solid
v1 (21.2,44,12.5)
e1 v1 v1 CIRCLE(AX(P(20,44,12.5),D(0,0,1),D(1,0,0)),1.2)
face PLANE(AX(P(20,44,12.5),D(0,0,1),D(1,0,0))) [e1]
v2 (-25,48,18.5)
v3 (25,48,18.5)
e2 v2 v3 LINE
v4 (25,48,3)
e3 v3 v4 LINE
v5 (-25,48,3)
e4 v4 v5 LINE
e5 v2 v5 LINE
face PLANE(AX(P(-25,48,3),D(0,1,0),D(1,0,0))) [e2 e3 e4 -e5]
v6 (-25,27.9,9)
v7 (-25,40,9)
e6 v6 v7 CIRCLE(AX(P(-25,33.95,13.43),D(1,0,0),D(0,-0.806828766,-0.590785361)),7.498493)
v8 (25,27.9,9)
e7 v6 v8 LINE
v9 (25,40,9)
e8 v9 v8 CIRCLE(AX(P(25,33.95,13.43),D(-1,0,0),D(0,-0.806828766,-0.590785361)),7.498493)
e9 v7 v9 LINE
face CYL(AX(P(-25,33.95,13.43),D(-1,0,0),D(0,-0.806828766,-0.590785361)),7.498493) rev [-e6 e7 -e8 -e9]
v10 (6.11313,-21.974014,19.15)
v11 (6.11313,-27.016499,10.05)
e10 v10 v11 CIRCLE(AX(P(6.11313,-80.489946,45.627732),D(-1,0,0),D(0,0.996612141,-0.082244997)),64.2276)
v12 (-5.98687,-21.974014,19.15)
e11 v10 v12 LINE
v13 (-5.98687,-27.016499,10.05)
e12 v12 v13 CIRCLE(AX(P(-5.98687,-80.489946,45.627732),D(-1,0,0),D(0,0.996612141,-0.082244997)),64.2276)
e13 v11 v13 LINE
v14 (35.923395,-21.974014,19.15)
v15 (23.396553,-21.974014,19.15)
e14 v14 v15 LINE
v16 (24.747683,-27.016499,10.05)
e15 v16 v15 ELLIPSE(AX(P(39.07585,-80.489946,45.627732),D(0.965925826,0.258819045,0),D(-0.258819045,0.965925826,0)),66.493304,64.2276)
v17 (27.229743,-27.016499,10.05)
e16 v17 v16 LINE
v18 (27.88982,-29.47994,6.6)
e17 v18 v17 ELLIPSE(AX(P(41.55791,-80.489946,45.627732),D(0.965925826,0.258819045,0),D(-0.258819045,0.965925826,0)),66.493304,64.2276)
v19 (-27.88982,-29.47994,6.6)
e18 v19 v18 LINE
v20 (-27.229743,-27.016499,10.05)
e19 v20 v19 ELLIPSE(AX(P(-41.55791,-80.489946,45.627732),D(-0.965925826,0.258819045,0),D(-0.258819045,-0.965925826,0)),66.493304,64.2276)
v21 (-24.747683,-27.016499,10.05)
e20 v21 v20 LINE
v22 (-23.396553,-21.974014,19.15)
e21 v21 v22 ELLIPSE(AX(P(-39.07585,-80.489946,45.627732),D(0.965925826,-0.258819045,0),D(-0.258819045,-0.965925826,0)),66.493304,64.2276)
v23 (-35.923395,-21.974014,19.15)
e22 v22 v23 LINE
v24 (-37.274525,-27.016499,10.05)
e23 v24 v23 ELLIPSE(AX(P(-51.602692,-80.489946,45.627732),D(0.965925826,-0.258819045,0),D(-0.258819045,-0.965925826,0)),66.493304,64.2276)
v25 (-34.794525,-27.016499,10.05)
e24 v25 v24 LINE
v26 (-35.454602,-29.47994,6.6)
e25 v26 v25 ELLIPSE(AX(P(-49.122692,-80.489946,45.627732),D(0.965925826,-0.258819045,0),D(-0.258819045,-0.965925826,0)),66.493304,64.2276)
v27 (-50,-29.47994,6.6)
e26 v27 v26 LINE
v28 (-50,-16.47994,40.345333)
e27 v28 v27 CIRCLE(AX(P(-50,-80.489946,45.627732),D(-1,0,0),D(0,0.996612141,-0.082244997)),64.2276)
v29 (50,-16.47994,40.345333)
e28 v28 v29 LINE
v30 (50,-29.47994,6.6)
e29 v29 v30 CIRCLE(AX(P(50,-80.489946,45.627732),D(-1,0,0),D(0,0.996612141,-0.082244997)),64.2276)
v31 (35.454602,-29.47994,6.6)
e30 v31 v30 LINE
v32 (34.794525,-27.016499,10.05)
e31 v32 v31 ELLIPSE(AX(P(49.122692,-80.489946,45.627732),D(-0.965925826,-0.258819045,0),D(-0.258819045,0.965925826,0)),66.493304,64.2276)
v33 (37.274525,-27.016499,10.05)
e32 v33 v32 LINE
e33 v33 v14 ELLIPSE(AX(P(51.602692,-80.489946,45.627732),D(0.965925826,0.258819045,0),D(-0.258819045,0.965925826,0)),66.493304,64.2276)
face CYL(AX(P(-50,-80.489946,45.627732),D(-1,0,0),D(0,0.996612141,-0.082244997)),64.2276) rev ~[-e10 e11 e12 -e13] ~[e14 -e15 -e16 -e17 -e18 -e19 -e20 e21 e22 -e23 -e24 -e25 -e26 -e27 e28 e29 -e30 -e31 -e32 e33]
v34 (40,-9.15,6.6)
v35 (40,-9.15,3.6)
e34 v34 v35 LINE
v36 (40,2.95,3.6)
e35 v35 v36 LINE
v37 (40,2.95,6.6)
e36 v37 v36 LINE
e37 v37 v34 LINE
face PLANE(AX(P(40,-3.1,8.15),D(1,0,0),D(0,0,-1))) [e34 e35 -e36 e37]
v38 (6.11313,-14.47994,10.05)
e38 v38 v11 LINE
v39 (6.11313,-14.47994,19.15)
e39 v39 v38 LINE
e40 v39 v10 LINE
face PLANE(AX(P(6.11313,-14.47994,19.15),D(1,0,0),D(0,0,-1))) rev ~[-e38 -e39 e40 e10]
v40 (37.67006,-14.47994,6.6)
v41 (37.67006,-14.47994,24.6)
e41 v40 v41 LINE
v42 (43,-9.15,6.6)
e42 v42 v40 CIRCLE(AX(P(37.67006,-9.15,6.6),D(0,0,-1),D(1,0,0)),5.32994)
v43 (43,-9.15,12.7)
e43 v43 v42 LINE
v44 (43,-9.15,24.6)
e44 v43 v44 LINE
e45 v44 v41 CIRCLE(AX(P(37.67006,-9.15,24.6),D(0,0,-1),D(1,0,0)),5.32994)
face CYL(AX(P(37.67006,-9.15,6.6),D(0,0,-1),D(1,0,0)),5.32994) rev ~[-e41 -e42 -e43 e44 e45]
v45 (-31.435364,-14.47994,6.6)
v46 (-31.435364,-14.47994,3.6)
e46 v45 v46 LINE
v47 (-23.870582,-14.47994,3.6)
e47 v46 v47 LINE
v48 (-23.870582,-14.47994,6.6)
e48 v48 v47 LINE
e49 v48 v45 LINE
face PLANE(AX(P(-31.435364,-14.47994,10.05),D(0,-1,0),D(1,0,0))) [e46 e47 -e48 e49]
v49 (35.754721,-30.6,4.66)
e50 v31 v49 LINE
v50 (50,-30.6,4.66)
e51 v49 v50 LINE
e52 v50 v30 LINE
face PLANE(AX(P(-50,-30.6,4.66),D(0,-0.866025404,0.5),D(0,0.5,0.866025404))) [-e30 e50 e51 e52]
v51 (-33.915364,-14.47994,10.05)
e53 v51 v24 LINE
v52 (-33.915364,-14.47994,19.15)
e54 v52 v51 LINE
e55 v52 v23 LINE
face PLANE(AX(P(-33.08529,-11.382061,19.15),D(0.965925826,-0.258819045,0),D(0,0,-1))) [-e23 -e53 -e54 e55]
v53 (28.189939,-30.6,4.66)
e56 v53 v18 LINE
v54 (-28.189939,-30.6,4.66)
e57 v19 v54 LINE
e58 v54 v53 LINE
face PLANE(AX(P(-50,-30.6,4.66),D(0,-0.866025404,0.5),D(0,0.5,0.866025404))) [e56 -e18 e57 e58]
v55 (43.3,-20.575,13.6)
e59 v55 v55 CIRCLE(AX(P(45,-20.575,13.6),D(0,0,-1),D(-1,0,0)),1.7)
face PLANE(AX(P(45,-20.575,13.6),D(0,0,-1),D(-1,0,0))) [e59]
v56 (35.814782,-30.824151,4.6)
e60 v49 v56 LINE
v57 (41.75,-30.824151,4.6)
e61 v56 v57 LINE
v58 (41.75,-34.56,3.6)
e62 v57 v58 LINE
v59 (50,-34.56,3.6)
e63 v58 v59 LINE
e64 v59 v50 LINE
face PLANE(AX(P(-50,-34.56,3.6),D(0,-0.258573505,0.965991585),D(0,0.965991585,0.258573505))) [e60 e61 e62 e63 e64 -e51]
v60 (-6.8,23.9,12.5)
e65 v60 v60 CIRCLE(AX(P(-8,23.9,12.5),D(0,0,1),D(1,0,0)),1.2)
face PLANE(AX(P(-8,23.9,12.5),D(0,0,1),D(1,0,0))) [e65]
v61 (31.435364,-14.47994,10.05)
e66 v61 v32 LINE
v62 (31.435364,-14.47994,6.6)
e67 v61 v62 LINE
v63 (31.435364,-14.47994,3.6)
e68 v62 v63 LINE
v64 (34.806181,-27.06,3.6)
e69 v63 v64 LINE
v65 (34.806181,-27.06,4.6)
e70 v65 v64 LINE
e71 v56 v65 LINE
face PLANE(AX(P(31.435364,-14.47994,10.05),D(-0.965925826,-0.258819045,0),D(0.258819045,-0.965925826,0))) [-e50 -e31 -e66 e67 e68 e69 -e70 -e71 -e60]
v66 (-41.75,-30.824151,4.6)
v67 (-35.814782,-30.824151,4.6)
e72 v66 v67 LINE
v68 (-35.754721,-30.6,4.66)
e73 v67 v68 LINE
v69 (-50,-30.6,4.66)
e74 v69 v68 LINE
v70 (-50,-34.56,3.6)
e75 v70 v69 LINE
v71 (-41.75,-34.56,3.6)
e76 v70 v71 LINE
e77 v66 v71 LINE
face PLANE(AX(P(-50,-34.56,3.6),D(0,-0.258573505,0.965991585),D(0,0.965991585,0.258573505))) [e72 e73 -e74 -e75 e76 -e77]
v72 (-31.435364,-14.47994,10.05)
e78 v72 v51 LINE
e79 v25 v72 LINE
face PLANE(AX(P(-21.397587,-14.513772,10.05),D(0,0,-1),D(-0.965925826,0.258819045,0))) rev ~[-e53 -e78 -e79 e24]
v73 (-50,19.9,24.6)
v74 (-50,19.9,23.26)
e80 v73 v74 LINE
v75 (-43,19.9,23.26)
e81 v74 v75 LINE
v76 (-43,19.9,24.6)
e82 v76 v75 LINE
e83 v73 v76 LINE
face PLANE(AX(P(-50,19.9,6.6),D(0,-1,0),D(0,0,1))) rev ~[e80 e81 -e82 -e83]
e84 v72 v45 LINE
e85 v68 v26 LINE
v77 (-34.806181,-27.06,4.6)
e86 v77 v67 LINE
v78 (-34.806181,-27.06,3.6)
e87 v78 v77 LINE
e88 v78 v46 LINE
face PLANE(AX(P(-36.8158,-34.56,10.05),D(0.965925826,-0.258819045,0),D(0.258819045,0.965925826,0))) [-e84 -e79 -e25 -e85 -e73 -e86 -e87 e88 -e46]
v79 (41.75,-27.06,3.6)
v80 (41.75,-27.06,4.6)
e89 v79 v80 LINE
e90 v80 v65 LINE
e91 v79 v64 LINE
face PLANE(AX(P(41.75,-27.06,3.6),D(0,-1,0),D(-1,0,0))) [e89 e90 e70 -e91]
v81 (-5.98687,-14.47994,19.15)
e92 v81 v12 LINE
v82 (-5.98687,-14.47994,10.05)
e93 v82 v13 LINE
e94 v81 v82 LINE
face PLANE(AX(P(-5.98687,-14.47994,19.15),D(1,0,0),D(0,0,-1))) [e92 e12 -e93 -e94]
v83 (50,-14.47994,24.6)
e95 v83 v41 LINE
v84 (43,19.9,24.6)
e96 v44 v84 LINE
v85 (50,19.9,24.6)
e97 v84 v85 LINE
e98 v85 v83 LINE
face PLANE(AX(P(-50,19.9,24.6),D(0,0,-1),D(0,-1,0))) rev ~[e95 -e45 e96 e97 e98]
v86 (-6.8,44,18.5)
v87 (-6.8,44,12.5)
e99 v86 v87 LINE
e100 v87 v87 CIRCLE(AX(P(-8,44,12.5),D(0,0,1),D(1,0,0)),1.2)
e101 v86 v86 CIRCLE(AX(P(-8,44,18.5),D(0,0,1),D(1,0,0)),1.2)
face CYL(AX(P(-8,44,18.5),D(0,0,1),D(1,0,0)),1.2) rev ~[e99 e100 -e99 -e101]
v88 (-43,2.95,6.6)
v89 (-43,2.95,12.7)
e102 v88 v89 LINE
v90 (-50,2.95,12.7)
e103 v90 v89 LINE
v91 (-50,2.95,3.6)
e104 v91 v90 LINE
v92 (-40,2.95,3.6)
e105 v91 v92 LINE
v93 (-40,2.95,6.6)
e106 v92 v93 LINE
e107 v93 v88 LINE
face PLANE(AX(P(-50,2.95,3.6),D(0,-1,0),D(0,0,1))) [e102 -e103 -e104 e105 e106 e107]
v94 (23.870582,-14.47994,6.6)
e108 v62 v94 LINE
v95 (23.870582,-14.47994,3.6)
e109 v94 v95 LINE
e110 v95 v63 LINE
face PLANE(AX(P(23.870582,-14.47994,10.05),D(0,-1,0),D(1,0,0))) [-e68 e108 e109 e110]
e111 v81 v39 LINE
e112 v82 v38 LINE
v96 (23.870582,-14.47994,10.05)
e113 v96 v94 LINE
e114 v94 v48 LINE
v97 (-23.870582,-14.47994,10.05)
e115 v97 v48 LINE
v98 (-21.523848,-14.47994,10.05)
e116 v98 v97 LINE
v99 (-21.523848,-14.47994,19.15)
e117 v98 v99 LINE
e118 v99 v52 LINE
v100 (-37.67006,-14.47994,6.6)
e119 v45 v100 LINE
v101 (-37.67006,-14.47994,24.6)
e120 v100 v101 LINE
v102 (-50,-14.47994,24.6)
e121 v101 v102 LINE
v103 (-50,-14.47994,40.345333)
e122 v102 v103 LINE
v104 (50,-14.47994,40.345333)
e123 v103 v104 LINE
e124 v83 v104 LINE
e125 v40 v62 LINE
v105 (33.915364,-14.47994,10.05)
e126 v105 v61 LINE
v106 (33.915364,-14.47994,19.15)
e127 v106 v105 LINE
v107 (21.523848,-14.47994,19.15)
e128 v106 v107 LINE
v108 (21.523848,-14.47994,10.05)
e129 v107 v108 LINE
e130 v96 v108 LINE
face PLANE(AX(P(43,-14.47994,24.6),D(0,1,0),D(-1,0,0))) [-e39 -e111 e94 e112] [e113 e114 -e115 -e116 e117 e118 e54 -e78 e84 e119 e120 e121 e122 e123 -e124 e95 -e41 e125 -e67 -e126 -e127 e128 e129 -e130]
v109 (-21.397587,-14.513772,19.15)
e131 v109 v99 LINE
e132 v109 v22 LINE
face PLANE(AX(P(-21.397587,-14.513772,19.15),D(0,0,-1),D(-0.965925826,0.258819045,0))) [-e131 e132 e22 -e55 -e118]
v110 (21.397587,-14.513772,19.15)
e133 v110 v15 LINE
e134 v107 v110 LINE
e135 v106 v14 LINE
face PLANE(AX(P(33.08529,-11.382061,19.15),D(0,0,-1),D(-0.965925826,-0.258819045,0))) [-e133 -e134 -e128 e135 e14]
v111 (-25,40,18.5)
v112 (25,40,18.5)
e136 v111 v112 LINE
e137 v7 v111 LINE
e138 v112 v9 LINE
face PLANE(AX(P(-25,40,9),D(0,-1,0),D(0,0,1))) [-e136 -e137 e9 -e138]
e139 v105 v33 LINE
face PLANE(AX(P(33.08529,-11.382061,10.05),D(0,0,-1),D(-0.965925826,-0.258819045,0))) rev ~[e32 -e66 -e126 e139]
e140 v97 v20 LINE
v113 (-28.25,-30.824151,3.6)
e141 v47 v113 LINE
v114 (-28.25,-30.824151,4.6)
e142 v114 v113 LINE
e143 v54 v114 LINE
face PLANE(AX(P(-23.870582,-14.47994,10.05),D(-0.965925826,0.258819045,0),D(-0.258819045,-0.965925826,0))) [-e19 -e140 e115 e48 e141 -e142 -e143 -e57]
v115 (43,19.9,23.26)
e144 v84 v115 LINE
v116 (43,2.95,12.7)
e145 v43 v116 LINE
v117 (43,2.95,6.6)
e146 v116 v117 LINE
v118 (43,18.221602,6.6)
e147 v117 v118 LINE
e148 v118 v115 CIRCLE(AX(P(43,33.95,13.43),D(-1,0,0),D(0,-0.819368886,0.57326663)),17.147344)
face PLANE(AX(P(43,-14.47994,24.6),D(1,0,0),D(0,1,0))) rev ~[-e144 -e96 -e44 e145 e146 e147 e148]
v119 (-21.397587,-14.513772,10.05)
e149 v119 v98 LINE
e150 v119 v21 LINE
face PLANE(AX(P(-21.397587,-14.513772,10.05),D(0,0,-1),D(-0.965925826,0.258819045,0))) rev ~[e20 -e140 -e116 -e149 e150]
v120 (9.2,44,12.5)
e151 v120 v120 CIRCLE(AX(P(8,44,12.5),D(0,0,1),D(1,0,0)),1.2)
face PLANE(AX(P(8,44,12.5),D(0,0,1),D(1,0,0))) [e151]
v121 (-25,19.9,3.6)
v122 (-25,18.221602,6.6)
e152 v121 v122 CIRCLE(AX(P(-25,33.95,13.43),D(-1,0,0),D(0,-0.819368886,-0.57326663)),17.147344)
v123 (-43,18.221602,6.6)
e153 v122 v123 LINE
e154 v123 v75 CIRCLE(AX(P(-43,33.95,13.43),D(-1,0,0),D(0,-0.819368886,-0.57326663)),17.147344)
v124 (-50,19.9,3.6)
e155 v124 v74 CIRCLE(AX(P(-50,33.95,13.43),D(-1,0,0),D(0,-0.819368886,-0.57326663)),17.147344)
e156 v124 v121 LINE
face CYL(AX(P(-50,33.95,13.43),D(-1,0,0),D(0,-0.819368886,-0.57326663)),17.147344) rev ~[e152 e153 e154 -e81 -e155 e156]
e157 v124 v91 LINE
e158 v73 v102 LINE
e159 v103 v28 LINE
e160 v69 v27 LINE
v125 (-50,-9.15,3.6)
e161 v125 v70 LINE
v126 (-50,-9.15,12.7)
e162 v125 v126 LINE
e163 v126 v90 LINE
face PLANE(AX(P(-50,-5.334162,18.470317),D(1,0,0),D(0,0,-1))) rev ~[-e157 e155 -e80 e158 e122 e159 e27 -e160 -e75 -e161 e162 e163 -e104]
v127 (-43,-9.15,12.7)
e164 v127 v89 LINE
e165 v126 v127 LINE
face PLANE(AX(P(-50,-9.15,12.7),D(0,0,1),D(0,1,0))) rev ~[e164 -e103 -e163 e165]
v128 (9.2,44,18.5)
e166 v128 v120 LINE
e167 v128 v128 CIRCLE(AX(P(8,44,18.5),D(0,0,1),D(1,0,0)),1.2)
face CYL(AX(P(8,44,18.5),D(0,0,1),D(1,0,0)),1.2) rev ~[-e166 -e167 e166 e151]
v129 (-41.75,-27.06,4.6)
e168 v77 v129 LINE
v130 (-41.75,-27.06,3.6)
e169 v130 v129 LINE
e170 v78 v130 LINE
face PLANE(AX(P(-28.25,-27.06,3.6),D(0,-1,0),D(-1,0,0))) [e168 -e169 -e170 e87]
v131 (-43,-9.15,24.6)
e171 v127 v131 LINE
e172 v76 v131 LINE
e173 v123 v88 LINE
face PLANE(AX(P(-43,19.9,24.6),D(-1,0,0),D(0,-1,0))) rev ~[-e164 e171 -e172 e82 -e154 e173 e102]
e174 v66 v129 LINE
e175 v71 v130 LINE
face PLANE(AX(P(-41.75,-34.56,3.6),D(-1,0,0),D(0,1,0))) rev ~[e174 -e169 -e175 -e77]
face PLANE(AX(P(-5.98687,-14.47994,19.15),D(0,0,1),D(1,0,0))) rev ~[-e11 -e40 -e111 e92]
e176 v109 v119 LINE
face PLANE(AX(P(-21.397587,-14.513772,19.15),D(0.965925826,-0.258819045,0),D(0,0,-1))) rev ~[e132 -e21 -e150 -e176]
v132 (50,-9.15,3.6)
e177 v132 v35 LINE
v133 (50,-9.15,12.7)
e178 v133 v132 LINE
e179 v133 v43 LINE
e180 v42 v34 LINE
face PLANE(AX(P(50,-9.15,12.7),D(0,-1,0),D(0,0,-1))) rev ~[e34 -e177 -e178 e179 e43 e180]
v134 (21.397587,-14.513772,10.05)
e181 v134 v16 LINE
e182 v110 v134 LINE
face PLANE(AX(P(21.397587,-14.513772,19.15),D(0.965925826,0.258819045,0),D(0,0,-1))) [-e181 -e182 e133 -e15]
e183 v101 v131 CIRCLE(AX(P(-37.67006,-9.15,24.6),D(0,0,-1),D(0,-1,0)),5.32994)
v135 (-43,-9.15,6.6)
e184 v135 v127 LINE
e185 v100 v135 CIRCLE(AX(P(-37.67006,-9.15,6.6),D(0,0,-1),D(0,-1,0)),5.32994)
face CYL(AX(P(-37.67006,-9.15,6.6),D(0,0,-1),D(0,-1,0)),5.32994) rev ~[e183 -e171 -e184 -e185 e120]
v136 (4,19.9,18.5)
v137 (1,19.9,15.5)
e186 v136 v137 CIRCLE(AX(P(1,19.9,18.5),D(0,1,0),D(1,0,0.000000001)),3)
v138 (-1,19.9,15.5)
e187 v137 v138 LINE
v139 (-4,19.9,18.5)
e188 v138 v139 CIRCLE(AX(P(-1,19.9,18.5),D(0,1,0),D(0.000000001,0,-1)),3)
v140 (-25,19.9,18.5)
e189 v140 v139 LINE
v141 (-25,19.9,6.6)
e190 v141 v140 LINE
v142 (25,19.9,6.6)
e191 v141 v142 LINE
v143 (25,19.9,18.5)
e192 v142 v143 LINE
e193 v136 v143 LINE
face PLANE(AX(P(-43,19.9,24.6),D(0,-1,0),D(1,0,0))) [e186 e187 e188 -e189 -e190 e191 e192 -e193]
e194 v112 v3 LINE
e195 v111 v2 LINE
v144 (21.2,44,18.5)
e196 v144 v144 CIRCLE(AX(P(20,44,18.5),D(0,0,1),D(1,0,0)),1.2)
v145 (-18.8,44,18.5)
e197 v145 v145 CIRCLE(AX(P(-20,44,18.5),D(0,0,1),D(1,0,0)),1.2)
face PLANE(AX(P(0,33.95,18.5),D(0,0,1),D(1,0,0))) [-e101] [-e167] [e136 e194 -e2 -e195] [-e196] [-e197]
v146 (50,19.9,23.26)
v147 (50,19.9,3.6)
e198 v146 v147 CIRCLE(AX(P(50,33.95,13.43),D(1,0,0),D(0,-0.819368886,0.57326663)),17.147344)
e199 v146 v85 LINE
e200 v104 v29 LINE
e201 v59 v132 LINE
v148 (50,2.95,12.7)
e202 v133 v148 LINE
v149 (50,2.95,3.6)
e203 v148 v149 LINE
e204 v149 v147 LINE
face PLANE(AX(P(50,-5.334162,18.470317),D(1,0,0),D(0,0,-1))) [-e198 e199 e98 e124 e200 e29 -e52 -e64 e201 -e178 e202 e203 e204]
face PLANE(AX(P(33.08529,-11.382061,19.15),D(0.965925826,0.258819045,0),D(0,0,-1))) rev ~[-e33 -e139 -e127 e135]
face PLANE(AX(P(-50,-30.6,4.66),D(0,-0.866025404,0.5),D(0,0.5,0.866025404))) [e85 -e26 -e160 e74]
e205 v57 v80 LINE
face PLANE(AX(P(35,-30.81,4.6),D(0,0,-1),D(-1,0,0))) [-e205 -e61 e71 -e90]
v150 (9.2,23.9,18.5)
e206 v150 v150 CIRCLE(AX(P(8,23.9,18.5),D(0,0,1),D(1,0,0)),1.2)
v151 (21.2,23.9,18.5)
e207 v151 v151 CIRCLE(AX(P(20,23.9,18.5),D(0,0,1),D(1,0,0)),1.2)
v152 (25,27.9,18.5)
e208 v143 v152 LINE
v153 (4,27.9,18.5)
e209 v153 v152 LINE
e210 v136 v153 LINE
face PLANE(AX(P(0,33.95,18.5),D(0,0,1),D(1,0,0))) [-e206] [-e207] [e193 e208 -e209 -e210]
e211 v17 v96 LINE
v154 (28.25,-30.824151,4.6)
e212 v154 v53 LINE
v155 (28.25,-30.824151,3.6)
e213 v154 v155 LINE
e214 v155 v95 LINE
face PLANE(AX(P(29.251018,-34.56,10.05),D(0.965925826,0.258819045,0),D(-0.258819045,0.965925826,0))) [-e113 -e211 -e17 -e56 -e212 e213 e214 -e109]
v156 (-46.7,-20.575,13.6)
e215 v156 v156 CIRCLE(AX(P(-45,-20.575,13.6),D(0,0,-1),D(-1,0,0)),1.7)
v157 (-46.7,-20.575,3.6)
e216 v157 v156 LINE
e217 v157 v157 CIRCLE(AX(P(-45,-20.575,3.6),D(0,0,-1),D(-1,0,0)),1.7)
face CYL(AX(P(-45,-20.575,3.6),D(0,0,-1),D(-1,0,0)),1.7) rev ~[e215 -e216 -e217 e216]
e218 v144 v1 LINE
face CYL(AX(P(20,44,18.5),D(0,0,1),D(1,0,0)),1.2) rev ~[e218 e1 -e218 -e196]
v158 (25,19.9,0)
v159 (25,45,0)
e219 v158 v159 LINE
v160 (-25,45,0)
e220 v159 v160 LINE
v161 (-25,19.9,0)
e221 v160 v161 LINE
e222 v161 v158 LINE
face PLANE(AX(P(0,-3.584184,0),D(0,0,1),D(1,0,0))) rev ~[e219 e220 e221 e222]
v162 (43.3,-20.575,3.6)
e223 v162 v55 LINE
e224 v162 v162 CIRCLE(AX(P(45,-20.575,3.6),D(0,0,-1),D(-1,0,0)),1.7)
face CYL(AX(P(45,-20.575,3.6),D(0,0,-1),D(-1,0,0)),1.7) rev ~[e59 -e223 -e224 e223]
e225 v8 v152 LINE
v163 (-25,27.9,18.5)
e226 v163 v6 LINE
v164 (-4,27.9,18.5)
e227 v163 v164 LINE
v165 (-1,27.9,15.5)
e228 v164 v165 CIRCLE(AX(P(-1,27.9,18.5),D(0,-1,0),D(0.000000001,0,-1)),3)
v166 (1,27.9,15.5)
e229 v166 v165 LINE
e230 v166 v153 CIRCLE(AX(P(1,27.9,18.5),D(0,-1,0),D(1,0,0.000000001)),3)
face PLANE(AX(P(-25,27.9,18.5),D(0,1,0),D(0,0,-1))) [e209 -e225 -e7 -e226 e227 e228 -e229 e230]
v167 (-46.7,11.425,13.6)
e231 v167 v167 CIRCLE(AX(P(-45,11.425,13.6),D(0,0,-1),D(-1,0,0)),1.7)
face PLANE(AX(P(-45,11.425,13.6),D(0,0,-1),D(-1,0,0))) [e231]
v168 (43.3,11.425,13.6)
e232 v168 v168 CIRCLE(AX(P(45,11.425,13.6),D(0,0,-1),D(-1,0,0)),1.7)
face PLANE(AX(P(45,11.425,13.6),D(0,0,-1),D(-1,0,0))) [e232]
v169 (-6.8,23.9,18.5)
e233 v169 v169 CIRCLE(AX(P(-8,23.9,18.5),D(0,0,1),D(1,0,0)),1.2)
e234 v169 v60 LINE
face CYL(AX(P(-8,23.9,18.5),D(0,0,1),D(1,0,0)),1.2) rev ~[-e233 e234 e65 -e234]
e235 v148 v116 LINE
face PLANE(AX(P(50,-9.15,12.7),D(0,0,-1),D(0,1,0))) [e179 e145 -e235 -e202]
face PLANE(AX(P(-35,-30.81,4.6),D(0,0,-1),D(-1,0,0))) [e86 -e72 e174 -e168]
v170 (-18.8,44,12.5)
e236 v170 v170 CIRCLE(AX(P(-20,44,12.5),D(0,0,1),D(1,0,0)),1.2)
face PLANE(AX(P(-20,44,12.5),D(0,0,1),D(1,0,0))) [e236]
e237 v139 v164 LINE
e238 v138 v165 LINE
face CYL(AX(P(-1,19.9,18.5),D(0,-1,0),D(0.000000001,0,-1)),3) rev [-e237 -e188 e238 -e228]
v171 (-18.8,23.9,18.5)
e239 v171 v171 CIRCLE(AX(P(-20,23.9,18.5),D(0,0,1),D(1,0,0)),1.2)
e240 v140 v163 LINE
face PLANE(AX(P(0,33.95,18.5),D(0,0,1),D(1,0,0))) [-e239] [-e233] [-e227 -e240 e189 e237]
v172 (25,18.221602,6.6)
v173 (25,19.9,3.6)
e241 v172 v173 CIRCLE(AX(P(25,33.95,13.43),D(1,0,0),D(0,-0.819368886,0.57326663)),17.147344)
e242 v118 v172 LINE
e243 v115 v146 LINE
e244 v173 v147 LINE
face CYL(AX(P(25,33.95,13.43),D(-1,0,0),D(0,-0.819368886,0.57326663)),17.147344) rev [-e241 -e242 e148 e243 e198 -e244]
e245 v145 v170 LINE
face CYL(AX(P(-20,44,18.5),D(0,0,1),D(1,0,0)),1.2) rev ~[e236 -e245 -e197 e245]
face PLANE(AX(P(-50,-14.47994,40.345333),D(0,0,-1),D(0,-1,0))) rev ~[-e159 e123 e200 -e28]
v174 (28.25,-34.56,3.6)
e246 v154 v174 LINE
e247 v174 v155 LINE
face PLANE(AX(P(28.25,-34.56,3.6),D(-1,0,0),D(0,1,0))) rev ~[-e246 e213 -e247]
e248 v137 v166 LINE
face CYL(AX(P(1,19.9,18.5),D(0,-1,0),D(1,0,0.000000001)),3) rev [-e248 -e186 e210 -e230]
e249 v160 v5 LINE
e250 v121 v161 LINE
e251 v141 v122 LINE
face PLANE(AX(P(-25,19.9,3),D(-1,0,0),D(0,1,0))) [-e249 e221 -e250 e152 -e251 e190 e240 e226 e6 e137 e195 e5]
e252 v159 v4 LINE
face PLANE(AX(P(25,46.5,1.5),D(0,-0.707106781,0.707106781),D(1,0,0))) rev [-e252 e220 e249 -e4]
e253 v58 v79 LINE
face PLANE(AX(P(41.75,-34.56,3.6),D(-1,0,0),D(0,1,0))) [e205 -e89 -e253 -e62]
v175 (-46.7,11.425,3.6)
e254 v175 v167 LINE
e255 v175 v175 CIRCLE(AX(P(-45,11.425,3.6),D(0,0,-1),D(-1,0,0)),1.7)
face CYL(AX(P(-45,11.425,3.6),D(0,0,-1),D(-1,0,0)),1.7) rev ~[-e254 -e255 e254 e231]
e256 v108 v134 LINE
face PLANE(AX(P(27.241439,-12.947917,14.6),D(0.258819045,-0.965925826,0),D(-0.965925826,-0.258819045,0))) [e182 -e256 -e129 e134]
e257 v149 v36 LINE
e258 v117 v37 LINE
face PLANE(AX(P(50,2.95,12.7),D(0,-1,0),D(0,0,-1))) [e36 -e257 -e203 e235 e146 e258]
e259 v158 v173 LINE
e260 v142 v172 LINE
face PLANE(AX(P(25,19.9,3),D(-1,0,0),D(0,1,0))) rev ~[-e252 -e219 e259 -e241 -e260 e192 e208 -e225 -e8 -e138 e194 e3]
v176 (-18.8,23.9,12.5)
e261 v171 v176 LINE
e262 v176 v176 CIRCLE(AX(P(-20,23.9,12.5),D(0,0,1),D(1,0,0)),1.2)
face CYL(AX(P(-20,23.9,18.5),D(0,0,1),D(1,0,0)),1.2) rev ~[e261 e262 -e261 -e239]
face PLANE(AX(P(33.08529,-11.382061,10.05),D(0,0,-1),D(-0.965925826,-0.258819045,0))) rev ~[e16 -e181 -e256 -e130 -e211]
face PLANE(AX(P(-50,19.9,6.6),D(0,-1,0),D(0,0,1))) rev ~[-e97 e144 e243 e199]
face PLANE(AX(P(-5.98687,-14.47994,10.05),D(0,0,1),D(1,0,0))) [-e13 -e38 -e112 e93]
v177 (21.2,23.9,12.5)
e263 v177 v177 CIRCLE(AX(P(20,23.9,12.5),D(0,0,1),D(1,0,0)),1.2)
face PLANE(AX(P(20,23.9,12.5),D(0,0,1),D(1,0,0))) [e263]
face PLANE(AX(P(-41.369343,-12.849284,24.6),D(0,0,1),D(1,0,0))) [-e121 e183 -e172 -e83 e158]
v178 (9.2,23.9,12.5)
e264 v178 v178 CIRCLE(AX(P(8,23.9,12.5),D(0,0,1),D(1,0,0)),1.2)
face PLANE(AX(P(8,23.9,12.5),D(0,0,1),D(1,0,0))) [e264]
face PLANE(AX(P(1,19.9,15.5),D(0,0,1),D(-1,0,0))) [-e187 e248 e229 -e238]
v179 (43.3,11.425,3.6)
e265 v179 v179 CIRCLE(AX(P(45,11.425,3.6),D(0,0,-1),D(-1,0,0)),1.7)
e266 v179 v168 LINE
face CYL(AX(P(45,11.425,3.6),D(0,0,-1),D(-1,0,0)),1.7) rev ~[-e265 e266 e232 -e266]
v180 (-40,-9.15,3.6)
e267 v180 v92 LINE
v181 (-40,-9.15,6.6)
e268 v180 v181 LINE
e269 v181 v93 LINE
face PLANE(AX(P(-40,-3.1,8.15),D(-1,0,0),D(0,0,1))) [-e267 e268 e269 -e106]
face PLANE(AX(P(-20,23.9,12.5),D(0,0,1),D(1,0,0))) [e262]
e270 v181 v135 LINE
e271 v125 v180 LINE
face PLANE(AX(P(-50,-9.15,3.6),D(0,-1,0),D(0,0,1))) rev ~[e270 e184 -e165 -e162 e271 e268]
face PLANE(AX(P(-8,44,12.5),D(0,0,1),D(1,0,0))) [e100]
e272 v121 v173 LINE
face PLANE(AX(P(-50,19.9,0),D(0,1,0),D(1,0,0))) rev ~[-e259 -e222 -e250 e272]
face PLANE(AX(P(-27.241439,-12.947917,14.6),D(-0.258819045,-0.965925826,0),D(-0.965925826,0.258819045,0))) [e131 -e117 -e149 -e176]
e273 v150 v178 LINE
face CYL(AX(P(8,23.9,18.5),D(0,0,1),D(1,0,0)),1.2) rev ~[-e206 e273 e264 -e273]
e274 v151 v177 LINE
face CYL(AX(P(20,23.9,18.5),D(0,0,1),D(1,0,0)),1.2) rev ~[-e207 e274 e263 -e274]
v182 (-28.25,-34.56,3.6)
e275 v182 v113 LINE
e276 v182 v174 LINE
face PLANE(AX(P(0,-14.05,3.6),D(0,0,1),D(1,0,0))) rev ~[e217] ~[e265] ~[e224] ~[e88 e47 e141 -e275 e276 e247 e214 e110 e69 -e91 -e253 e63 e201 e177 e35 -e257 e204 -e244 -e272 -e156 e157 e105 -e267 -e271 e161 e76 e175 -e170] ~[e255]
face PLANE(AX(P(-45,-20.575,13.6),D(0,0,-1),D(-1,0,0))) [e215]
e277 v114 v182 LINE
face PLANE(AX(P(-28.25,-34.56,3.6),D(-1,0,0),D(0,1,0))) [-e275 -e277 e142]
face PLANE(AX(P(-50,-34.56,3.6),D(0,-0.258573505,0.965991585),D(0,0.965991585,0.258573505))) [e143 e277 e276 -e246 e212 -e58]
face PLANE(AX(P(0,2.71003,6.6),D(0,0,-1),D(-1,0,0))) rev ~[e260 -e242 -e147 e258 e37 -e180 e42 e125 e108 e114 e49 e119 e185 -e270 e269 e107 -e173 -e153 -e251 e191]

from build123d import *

# Parameters (mm, degrees)
BASE_DEPTH                  = 3
CROQUIS2_W                  = 50
CROQUIS2_H                  = 28.1
SALIENTE_EXTRUIR2_DEPTH     = 15.5
CORTAR_EXTRUIR1_REACH       = 92.946
CORTAR_EXTRUIR2_REACH       = 88.329
CROQUIS15_W                 = 100
CROQUIS15_H                 = 54.46
SALIENTE_EXTRUIR3_DEPTH     = 3.6
CORTAR_EXTRUIR3_DEPTH       = 3.6
CROQUIS5_R                  = 1.2
CORTAR_EXTRUIR4_DEPTH       = 6
CORTAR_EXTRUIR7_DEPTH       = 113.455546773
SALIENTE_EXTRUIR5_DEPTH     = 100
CHAFL_N1_SIZE               = 3
CORTAR_EXTRUIR9_DEPTH       = 25
CORTAR_EXTRUIR10_START      = -25
CORTAR_EXTRUIR10_DEPTH      = 25
CORTAR_EXTRUIR11_DEPTH      = 18
CORTAR_EXTRUIR14_DEPTH      = 10
CORTAR_EXTRUIR14_DEPTH_BACK = 10
CROQUIS45_W                 = 12.1
CROQUIS45_H                 = 9.1
CORTAR_EXTRUIR15_DEPTH      = 10
CORTAR_EXTRUIR15_DEPTH_BACK = 10
CROQUIS49_W                 = 12.1
CROQUIS49_H                 = 9.1
CROQUIS63_W                 = 12.1
CROQUIS63_H                 = 9.1
CORTAR_EXTRUIR19_DEPTH      = 30
CROQUIS64_W                 = 9.1
CROQUIS64_H                 = 12.1
CORTAR_EXTRUIR20_DEPTH      = 10
CROQUIS66_W                 = 9.1
CROQUIS66_H                 = 12.1
CORTAR_EXTRUIR21_DEPTH      = 10
SALIENTE_EXTRUIR11_DEPTH    = 18
CROQUIS73_R                 = 1.7
CORTAR_EXTRUIR22_DEPTH      = 10
CROQUIS75_W                 = 13.5
CROQUIS75_H                 = 7.5
CORTAR_EXTRUIR26_DEPTH      = 1
CORTAR_EXTRUIR27_DEPTH      = 76.642628391


with BuildPart() as part:
    # Croquis1 → Base (new body)
    with BuildSketch(Plane.XY):
        Polygon((-50, -48), (50, -48), (50, 19.9), (25, 19.9), (25, 48), (-25, 48), (-25, 19.9), (-50, 19.9), align=None)
    extrude(amount=BASE_DEPTH)

    # Croquis2 → Saliente-Extruir2 (add)
    with BuildSketch(Plane.XY.offset(3)):
        with Locations((0, 33.95)):
            Rectangle(CROQUIS2_W, CROQUIS2_H)
    extrude(amount=SALIENTE_EXTRUIR2_DEPTH)

    # Croquis3 → Cortar-Extruir1 (cut, up to next)
    with BuildSketch(Plane.ZY.offset(25), mode=Mode.PRIVATE) as cortar_extruir1_sk1:
        with BuildLine():
            Line((18.5, 40), (18.5, 27.9))
            Line((18.5, 27.9), (9, 27.9))
            ThreePointArc((9, 27.9), (5.931506818, 33.95), (9, 40))
            Line((9, 40), (18.5, 40))
        make_face()
    cortar_extruir1_tool1 = extrude(cortar_extruir1_sk1.sketch, amount=-CORTAR_EXTRUIR1_REACH, mode=Mode.PRIVATE) & part.part
    add(cortar_extruir1_tool1.solids().sort_by_distance((-25, 33.95, 12.643483))[0], mode=Mode.SUBTRACT)

    # Croquis4 → Cortar-Extruir2 (cut, up to next)
    with BuildSketch(Plane.XZ.offset(-19.9), mode=Mode.PRIVATE) as cortar_extruir2_sk1:
        with BuildLine():
            Line((1, 15.5), (-1, 15.5))
            ThreePointArc((-1, 15.5), (-3.121320344, 16.378679656), (-4, 18.5))
            Line((-4, 18.5), (4, 18.5))
            ThreePointArc((4, 18.5), (3.121320344, 16.378679656), (1, 15.5))
        make_face()
    cortar_extruir2_tool1 = extrude(cortar_extruir2_sk1.sketch, amount=-CORTAR_EXTRUIR2_REACH, mode=Mode.PRIVATE) & part.part
    add(cortar_extruir2_tool1.solids().sort_by_distance((0, 19.9, 17.159196))[0], mode=Mode.SUBTRACT)

    # Croquis15 → Saliente-Extruir3 (add)
    with BuildSketch(Plane.XY.offset(3)):
        with Locations((0, -7.33)):
            Rectangle(CROQUIS15_W, CROQUIS15_H)
    extrude(amount=SALIENTE_EXTRUIR3_DEPTH)

    # Croquis16 → Cortar-Extruir3 (cut)
    with BuildSketch(Plane(origin=(0, 0, 0), x_dir=(-1, 0, 0), z_dir=(0, 0, -1))):
        Polygon((25, 19.9), (50, 19.9), (50, -48), (-50, -48), (-50, 19.9), (-25, 19.9), align=None)
    extrude(amount=-CORTAR_EXTRUIR3_DEPTH, mode=Mode.SUBTRACT)

    # Croquis5 → Cortar-Extruir4 (cut)
    with BuildSketch(Plane.XY.offset(18.5)):
        with Locations((-20, 44)):
            Circle(CROQUIS5_R)
        with Locations((-8, 44)):
            Circle(CROQUIS5_R)
        with Locations((-20, 23.9)):
            Circle(CROQUIS5_R)
        with Locations((-8, 23.9)):
            Circle(CROQUIS5_R)
        with Locations((8, 44)):
            Circle(CROQUIS5_R)
        with Locations((20, 44)):
            Circle(CROQUIS5_R)
        with Locations((8, 23.9)):
            Circle(CROQUIS5_R)
        with Locations((20, 23.9)):
            Circle(CROQUIS5_R)
    extrude(amount=-CORTAR_EXTRUIR4_DEPTH, mode=Mode.SUBTRACT)

    # Croquis22 → Cortar-Extruir7 (cut, through all)
    with BuildSketch(Plane.ZY.offset(50)):
        Polygon((4.66, -30.6), (6.6, -29.479940478), (6.6, -34.56), (3.6, -34.56), align=None)
    extrude(amount=-CORTAR_EXTRUIR7_DEPTH, mode=Mode.SUBTRACT)

    # Croquis24 → Saliente-Extruir5 (add, through all)
    with BuildSketch(Plane.ZY.offset(50)):
        with BuildLine():
            Line((24.6, -14.479940478), (40.345333467, -14.479940478))
            Line((40.345333467, -14.479940478), (40.345333467, -16.479940478))
            ThreePointArc((40.345333467, -16.479940478), (22.538840373, -20.555918791), (6.6, -29.479940478))
            Line((6.6, -29.479940478), (6.6, 19.9))
            Line((6.6, 19.9), (24.6, 19.9))
            Line((24.6, 19.9), (24.6, -14.479940478))
        make_face()
    extrude(amount=-SALIENTE_EXTRUIR5_DEPTH)

    # Chaflán1
    chafl_n1_edges = [part.edges().sort_by_distance(p)[0] for p in [
        (0, 48, 0),
    ]]
    chamfer(chafl_n1_edges, length=CHAFL_N1_SIZE)

    # Croquis25 → Cortar-Extruir9 (cut)
    with BuildSketch(Plane.ZY.offset(50)):
        with BuildLine():
            Line((23.26, 19.9), (3.6, 19.9))
            ThreePointArc((3.6, 19.9), (13.43, 16.802656182), (23.26, 19.9))
        make_face()
    extrude(amount=-CORTAR_EXTRUIR9_DEPTH, mode=Mode.SUBTRACT)

    # Croquis26 → Cortar-Extruir10 (cut)
    with BuildSketch(Plane(origin=(50, 0, 0), x_dir=(0, 0, -1), z_dir=(1, 0, 0)).offset(CORTAR_EXTRUIR10_START)):
        with BuildLine():
            Line((-3.6, 19.9), (-23.26, 19.9))
            ThreePointArc((-23.26, 19.9), (-13.43, 16.802656182), (-3.6, 19.9))
        make_face()
    extrude(amount=CORTAR_EXTRUIR10_DEPTH, mode=Mode.SUBTRACT)

    # Croquis28 → Cortar-Extruir11 (cut)
    with BuildSketch(Plane.XY.offset(24.6)):
        Polygon((-43, -9.479940478), (-43, 19.9), (43, 19.9), (43, -9.479940478), (43, -14.479940478), (-43, -14.479940478), align=None)
    extrude(amount=-CORTAR_EXTRUIR11_DEPTH, mode=Mode.SUBTRACT)

    # Croquis45 → Cortar-Extruir14 (cut, two sides: drawn at the far end of the back side and taken through both)
    with BuildSketch(Plane(origin=(-7.65, -28.550188678, 0), x_dir=(-0.9659258262890681, 0.25881904510252135, 0), z_dir=(-0.25881904510252135, -0.9659258262890681, 0)).offset(-CORTAR_EXTRUIR14_DEPTH_BACK)):
        with Locations((22.96204173, -14.6)):
            Rectangle(CROQUIS45_W, CROQUIS45_H)
    extrude(amount=CORTAR_EXTRUIR14_DEPTH + CORTAR_EXTRUIR14_DEPTH_BACK, mode=Mode.SUBTRACT)

    # Croquis49 → Cortar-Extruir15 (cut, two sides: drawn at the far end of the back side and taken through both)
    with BuildSketch(Plane(origin=(7.65, -28.550188678, 0), x_dir=(-0.96592582628907, -0.2588190451025146, 0), z_dir=(0.2588190451025145, -0.9659258262890699, 0)).offset(-CORTAR_EXTRUIR15_DEPTH_BACK)):
        with Locations((-22.96204173, -14.6)):
            Rectangle(CROQUIS49_W, CROQUIS49_H)
    extrude(amount=CORTAR_EXTRUIR15_DEPTH + CORTAR_EXTRUIR15_DEPTH_BACK, mode=Mode.SUBTRACT)

    # Croquis63 → Cortar-Extruir19 (cut)
    with BuildSketch(Plane(origin=(0, -14.479940478, 0), x_dir=(1, 0, 0), z_dir=(0, 1, 0))):
        with Locations((0.063130338, -14.6)):
            Rectangle(CROQUIS63_W, CROQUIS63_H)
    extrude(amount=-CORTAR_EXTRUIR19_DEPTH, mode=Mode.SUBTRACT)

    # Croquis64 → Cortar-Extruir20 (cut)
    with BuildSketch(Plane.ZY.offset(50)):
        with Locations((8.15, -3.1)):
            Rectangle(CROQUIS64_W, CROQUIS64_H)
    extrude(amount=-CORTAR_EXTRUIR20_DEPTH, mode=Mode.SUBTRACT)

    # Croquis66 → Cortar-Extruir21 (cut)
    with BuildSketch(Plane(origin=(50, 0, 0), x_dir=(0, 0, -1), z_dir=(1, 0, 0))):
        with Locations((-8.15, -3.1)):
            Rectangle(CROQUIS66_W, CROQUIS66_H)
    extrude(amount=-CORTAR_EXTRUIR21_DEPTH, mode=Mode.SUBTRACT)

    # Croquis70 → Saliente-Extruir11 (add)
    with BuildSketch(Plane.XY.offset(6.6)):
        with BuildLine():
            Line((-43, -9.15), (-43, -14.479940478))
            Line((-43, -14.479940478), (-37.670059522, -14.479940478))
            ThreePointArc((-37.670059522, -14.479940478), (-41.438896577, -12.918837055), (-43, -9.15))
        make_face()
        with BuildLine():
            Line((43, -14.479940478), (43, -9.15))
            ThreePointArc((43, -9.15), (41.438896577, -12.918837055), (37.670059522, -14.479940478))
            Line((37.670059522, -14.479940478), (43, -14.479940478))
        make_face()
    extrude(amount=SALIENTE_EXTRUIR11_DEPTH)

    # Croquis73 → Cortar-Extruir22 (cut)
    with BuildSketch(Plane(origin=(0, 0, 3.6), x_dir=(-1, 0, 0), z_dir=(0, 0, -1))):
        with Locations((-45, 11.425)):
            Circle(CROQUIS73_R)
        with Locations((45, 11.425)):
            Circle(CROQUIS73_R)
        with Locations((45, -20.575)):
            Circle(CROQUIS73_R)
        with Locations((-45, -20.575)):
            Circle(CROQUIS73_R)
    extrude(amount=-CORTAR_EXTRUIR22_DEPTH, mode=Mode.SUBTRACT)

    # Croquis75 → Cortar-Extruir26 (cut)
    with BuildSketch(Plane(origin=(0, 0, 3.6), x_dir=(-1, 0, 0), z_dir=(0, 0, -1))):
        with Locations((-35, -30.81)):
            Rectangle(CROQUIS75_W, CROQUIS75_H)
        with Locations((35, -30.81)):
            Rectangle(CROQUIS75_W, CROQUIS75_H)
    extrude(amount=-CORTAR_EXTRUIR26_DEPTH, mode=Mode.SUBTRACT)

    # Croquis76 → Cortar-Extruir27 (cut, through all)
    with BuildSketch(Plane.XY.offset(10.05)):
        Polygon((-29.251017738, -34.56), (-36.815799839, -34.56), (-31.435364106, -14.479940478), (-23.870582005, -14.479940478), align=None)
        Polygon((29.251017738, -34.56), (23.870582005, -14.479940478), (31.435364106, -14.479940478), (36.815799839, -34.56), align=None)
    extrude(amount=-CORTAR_EXTRUIR27_DEPTH, mode=Mode.SUBTRACT)


solid = part.part
